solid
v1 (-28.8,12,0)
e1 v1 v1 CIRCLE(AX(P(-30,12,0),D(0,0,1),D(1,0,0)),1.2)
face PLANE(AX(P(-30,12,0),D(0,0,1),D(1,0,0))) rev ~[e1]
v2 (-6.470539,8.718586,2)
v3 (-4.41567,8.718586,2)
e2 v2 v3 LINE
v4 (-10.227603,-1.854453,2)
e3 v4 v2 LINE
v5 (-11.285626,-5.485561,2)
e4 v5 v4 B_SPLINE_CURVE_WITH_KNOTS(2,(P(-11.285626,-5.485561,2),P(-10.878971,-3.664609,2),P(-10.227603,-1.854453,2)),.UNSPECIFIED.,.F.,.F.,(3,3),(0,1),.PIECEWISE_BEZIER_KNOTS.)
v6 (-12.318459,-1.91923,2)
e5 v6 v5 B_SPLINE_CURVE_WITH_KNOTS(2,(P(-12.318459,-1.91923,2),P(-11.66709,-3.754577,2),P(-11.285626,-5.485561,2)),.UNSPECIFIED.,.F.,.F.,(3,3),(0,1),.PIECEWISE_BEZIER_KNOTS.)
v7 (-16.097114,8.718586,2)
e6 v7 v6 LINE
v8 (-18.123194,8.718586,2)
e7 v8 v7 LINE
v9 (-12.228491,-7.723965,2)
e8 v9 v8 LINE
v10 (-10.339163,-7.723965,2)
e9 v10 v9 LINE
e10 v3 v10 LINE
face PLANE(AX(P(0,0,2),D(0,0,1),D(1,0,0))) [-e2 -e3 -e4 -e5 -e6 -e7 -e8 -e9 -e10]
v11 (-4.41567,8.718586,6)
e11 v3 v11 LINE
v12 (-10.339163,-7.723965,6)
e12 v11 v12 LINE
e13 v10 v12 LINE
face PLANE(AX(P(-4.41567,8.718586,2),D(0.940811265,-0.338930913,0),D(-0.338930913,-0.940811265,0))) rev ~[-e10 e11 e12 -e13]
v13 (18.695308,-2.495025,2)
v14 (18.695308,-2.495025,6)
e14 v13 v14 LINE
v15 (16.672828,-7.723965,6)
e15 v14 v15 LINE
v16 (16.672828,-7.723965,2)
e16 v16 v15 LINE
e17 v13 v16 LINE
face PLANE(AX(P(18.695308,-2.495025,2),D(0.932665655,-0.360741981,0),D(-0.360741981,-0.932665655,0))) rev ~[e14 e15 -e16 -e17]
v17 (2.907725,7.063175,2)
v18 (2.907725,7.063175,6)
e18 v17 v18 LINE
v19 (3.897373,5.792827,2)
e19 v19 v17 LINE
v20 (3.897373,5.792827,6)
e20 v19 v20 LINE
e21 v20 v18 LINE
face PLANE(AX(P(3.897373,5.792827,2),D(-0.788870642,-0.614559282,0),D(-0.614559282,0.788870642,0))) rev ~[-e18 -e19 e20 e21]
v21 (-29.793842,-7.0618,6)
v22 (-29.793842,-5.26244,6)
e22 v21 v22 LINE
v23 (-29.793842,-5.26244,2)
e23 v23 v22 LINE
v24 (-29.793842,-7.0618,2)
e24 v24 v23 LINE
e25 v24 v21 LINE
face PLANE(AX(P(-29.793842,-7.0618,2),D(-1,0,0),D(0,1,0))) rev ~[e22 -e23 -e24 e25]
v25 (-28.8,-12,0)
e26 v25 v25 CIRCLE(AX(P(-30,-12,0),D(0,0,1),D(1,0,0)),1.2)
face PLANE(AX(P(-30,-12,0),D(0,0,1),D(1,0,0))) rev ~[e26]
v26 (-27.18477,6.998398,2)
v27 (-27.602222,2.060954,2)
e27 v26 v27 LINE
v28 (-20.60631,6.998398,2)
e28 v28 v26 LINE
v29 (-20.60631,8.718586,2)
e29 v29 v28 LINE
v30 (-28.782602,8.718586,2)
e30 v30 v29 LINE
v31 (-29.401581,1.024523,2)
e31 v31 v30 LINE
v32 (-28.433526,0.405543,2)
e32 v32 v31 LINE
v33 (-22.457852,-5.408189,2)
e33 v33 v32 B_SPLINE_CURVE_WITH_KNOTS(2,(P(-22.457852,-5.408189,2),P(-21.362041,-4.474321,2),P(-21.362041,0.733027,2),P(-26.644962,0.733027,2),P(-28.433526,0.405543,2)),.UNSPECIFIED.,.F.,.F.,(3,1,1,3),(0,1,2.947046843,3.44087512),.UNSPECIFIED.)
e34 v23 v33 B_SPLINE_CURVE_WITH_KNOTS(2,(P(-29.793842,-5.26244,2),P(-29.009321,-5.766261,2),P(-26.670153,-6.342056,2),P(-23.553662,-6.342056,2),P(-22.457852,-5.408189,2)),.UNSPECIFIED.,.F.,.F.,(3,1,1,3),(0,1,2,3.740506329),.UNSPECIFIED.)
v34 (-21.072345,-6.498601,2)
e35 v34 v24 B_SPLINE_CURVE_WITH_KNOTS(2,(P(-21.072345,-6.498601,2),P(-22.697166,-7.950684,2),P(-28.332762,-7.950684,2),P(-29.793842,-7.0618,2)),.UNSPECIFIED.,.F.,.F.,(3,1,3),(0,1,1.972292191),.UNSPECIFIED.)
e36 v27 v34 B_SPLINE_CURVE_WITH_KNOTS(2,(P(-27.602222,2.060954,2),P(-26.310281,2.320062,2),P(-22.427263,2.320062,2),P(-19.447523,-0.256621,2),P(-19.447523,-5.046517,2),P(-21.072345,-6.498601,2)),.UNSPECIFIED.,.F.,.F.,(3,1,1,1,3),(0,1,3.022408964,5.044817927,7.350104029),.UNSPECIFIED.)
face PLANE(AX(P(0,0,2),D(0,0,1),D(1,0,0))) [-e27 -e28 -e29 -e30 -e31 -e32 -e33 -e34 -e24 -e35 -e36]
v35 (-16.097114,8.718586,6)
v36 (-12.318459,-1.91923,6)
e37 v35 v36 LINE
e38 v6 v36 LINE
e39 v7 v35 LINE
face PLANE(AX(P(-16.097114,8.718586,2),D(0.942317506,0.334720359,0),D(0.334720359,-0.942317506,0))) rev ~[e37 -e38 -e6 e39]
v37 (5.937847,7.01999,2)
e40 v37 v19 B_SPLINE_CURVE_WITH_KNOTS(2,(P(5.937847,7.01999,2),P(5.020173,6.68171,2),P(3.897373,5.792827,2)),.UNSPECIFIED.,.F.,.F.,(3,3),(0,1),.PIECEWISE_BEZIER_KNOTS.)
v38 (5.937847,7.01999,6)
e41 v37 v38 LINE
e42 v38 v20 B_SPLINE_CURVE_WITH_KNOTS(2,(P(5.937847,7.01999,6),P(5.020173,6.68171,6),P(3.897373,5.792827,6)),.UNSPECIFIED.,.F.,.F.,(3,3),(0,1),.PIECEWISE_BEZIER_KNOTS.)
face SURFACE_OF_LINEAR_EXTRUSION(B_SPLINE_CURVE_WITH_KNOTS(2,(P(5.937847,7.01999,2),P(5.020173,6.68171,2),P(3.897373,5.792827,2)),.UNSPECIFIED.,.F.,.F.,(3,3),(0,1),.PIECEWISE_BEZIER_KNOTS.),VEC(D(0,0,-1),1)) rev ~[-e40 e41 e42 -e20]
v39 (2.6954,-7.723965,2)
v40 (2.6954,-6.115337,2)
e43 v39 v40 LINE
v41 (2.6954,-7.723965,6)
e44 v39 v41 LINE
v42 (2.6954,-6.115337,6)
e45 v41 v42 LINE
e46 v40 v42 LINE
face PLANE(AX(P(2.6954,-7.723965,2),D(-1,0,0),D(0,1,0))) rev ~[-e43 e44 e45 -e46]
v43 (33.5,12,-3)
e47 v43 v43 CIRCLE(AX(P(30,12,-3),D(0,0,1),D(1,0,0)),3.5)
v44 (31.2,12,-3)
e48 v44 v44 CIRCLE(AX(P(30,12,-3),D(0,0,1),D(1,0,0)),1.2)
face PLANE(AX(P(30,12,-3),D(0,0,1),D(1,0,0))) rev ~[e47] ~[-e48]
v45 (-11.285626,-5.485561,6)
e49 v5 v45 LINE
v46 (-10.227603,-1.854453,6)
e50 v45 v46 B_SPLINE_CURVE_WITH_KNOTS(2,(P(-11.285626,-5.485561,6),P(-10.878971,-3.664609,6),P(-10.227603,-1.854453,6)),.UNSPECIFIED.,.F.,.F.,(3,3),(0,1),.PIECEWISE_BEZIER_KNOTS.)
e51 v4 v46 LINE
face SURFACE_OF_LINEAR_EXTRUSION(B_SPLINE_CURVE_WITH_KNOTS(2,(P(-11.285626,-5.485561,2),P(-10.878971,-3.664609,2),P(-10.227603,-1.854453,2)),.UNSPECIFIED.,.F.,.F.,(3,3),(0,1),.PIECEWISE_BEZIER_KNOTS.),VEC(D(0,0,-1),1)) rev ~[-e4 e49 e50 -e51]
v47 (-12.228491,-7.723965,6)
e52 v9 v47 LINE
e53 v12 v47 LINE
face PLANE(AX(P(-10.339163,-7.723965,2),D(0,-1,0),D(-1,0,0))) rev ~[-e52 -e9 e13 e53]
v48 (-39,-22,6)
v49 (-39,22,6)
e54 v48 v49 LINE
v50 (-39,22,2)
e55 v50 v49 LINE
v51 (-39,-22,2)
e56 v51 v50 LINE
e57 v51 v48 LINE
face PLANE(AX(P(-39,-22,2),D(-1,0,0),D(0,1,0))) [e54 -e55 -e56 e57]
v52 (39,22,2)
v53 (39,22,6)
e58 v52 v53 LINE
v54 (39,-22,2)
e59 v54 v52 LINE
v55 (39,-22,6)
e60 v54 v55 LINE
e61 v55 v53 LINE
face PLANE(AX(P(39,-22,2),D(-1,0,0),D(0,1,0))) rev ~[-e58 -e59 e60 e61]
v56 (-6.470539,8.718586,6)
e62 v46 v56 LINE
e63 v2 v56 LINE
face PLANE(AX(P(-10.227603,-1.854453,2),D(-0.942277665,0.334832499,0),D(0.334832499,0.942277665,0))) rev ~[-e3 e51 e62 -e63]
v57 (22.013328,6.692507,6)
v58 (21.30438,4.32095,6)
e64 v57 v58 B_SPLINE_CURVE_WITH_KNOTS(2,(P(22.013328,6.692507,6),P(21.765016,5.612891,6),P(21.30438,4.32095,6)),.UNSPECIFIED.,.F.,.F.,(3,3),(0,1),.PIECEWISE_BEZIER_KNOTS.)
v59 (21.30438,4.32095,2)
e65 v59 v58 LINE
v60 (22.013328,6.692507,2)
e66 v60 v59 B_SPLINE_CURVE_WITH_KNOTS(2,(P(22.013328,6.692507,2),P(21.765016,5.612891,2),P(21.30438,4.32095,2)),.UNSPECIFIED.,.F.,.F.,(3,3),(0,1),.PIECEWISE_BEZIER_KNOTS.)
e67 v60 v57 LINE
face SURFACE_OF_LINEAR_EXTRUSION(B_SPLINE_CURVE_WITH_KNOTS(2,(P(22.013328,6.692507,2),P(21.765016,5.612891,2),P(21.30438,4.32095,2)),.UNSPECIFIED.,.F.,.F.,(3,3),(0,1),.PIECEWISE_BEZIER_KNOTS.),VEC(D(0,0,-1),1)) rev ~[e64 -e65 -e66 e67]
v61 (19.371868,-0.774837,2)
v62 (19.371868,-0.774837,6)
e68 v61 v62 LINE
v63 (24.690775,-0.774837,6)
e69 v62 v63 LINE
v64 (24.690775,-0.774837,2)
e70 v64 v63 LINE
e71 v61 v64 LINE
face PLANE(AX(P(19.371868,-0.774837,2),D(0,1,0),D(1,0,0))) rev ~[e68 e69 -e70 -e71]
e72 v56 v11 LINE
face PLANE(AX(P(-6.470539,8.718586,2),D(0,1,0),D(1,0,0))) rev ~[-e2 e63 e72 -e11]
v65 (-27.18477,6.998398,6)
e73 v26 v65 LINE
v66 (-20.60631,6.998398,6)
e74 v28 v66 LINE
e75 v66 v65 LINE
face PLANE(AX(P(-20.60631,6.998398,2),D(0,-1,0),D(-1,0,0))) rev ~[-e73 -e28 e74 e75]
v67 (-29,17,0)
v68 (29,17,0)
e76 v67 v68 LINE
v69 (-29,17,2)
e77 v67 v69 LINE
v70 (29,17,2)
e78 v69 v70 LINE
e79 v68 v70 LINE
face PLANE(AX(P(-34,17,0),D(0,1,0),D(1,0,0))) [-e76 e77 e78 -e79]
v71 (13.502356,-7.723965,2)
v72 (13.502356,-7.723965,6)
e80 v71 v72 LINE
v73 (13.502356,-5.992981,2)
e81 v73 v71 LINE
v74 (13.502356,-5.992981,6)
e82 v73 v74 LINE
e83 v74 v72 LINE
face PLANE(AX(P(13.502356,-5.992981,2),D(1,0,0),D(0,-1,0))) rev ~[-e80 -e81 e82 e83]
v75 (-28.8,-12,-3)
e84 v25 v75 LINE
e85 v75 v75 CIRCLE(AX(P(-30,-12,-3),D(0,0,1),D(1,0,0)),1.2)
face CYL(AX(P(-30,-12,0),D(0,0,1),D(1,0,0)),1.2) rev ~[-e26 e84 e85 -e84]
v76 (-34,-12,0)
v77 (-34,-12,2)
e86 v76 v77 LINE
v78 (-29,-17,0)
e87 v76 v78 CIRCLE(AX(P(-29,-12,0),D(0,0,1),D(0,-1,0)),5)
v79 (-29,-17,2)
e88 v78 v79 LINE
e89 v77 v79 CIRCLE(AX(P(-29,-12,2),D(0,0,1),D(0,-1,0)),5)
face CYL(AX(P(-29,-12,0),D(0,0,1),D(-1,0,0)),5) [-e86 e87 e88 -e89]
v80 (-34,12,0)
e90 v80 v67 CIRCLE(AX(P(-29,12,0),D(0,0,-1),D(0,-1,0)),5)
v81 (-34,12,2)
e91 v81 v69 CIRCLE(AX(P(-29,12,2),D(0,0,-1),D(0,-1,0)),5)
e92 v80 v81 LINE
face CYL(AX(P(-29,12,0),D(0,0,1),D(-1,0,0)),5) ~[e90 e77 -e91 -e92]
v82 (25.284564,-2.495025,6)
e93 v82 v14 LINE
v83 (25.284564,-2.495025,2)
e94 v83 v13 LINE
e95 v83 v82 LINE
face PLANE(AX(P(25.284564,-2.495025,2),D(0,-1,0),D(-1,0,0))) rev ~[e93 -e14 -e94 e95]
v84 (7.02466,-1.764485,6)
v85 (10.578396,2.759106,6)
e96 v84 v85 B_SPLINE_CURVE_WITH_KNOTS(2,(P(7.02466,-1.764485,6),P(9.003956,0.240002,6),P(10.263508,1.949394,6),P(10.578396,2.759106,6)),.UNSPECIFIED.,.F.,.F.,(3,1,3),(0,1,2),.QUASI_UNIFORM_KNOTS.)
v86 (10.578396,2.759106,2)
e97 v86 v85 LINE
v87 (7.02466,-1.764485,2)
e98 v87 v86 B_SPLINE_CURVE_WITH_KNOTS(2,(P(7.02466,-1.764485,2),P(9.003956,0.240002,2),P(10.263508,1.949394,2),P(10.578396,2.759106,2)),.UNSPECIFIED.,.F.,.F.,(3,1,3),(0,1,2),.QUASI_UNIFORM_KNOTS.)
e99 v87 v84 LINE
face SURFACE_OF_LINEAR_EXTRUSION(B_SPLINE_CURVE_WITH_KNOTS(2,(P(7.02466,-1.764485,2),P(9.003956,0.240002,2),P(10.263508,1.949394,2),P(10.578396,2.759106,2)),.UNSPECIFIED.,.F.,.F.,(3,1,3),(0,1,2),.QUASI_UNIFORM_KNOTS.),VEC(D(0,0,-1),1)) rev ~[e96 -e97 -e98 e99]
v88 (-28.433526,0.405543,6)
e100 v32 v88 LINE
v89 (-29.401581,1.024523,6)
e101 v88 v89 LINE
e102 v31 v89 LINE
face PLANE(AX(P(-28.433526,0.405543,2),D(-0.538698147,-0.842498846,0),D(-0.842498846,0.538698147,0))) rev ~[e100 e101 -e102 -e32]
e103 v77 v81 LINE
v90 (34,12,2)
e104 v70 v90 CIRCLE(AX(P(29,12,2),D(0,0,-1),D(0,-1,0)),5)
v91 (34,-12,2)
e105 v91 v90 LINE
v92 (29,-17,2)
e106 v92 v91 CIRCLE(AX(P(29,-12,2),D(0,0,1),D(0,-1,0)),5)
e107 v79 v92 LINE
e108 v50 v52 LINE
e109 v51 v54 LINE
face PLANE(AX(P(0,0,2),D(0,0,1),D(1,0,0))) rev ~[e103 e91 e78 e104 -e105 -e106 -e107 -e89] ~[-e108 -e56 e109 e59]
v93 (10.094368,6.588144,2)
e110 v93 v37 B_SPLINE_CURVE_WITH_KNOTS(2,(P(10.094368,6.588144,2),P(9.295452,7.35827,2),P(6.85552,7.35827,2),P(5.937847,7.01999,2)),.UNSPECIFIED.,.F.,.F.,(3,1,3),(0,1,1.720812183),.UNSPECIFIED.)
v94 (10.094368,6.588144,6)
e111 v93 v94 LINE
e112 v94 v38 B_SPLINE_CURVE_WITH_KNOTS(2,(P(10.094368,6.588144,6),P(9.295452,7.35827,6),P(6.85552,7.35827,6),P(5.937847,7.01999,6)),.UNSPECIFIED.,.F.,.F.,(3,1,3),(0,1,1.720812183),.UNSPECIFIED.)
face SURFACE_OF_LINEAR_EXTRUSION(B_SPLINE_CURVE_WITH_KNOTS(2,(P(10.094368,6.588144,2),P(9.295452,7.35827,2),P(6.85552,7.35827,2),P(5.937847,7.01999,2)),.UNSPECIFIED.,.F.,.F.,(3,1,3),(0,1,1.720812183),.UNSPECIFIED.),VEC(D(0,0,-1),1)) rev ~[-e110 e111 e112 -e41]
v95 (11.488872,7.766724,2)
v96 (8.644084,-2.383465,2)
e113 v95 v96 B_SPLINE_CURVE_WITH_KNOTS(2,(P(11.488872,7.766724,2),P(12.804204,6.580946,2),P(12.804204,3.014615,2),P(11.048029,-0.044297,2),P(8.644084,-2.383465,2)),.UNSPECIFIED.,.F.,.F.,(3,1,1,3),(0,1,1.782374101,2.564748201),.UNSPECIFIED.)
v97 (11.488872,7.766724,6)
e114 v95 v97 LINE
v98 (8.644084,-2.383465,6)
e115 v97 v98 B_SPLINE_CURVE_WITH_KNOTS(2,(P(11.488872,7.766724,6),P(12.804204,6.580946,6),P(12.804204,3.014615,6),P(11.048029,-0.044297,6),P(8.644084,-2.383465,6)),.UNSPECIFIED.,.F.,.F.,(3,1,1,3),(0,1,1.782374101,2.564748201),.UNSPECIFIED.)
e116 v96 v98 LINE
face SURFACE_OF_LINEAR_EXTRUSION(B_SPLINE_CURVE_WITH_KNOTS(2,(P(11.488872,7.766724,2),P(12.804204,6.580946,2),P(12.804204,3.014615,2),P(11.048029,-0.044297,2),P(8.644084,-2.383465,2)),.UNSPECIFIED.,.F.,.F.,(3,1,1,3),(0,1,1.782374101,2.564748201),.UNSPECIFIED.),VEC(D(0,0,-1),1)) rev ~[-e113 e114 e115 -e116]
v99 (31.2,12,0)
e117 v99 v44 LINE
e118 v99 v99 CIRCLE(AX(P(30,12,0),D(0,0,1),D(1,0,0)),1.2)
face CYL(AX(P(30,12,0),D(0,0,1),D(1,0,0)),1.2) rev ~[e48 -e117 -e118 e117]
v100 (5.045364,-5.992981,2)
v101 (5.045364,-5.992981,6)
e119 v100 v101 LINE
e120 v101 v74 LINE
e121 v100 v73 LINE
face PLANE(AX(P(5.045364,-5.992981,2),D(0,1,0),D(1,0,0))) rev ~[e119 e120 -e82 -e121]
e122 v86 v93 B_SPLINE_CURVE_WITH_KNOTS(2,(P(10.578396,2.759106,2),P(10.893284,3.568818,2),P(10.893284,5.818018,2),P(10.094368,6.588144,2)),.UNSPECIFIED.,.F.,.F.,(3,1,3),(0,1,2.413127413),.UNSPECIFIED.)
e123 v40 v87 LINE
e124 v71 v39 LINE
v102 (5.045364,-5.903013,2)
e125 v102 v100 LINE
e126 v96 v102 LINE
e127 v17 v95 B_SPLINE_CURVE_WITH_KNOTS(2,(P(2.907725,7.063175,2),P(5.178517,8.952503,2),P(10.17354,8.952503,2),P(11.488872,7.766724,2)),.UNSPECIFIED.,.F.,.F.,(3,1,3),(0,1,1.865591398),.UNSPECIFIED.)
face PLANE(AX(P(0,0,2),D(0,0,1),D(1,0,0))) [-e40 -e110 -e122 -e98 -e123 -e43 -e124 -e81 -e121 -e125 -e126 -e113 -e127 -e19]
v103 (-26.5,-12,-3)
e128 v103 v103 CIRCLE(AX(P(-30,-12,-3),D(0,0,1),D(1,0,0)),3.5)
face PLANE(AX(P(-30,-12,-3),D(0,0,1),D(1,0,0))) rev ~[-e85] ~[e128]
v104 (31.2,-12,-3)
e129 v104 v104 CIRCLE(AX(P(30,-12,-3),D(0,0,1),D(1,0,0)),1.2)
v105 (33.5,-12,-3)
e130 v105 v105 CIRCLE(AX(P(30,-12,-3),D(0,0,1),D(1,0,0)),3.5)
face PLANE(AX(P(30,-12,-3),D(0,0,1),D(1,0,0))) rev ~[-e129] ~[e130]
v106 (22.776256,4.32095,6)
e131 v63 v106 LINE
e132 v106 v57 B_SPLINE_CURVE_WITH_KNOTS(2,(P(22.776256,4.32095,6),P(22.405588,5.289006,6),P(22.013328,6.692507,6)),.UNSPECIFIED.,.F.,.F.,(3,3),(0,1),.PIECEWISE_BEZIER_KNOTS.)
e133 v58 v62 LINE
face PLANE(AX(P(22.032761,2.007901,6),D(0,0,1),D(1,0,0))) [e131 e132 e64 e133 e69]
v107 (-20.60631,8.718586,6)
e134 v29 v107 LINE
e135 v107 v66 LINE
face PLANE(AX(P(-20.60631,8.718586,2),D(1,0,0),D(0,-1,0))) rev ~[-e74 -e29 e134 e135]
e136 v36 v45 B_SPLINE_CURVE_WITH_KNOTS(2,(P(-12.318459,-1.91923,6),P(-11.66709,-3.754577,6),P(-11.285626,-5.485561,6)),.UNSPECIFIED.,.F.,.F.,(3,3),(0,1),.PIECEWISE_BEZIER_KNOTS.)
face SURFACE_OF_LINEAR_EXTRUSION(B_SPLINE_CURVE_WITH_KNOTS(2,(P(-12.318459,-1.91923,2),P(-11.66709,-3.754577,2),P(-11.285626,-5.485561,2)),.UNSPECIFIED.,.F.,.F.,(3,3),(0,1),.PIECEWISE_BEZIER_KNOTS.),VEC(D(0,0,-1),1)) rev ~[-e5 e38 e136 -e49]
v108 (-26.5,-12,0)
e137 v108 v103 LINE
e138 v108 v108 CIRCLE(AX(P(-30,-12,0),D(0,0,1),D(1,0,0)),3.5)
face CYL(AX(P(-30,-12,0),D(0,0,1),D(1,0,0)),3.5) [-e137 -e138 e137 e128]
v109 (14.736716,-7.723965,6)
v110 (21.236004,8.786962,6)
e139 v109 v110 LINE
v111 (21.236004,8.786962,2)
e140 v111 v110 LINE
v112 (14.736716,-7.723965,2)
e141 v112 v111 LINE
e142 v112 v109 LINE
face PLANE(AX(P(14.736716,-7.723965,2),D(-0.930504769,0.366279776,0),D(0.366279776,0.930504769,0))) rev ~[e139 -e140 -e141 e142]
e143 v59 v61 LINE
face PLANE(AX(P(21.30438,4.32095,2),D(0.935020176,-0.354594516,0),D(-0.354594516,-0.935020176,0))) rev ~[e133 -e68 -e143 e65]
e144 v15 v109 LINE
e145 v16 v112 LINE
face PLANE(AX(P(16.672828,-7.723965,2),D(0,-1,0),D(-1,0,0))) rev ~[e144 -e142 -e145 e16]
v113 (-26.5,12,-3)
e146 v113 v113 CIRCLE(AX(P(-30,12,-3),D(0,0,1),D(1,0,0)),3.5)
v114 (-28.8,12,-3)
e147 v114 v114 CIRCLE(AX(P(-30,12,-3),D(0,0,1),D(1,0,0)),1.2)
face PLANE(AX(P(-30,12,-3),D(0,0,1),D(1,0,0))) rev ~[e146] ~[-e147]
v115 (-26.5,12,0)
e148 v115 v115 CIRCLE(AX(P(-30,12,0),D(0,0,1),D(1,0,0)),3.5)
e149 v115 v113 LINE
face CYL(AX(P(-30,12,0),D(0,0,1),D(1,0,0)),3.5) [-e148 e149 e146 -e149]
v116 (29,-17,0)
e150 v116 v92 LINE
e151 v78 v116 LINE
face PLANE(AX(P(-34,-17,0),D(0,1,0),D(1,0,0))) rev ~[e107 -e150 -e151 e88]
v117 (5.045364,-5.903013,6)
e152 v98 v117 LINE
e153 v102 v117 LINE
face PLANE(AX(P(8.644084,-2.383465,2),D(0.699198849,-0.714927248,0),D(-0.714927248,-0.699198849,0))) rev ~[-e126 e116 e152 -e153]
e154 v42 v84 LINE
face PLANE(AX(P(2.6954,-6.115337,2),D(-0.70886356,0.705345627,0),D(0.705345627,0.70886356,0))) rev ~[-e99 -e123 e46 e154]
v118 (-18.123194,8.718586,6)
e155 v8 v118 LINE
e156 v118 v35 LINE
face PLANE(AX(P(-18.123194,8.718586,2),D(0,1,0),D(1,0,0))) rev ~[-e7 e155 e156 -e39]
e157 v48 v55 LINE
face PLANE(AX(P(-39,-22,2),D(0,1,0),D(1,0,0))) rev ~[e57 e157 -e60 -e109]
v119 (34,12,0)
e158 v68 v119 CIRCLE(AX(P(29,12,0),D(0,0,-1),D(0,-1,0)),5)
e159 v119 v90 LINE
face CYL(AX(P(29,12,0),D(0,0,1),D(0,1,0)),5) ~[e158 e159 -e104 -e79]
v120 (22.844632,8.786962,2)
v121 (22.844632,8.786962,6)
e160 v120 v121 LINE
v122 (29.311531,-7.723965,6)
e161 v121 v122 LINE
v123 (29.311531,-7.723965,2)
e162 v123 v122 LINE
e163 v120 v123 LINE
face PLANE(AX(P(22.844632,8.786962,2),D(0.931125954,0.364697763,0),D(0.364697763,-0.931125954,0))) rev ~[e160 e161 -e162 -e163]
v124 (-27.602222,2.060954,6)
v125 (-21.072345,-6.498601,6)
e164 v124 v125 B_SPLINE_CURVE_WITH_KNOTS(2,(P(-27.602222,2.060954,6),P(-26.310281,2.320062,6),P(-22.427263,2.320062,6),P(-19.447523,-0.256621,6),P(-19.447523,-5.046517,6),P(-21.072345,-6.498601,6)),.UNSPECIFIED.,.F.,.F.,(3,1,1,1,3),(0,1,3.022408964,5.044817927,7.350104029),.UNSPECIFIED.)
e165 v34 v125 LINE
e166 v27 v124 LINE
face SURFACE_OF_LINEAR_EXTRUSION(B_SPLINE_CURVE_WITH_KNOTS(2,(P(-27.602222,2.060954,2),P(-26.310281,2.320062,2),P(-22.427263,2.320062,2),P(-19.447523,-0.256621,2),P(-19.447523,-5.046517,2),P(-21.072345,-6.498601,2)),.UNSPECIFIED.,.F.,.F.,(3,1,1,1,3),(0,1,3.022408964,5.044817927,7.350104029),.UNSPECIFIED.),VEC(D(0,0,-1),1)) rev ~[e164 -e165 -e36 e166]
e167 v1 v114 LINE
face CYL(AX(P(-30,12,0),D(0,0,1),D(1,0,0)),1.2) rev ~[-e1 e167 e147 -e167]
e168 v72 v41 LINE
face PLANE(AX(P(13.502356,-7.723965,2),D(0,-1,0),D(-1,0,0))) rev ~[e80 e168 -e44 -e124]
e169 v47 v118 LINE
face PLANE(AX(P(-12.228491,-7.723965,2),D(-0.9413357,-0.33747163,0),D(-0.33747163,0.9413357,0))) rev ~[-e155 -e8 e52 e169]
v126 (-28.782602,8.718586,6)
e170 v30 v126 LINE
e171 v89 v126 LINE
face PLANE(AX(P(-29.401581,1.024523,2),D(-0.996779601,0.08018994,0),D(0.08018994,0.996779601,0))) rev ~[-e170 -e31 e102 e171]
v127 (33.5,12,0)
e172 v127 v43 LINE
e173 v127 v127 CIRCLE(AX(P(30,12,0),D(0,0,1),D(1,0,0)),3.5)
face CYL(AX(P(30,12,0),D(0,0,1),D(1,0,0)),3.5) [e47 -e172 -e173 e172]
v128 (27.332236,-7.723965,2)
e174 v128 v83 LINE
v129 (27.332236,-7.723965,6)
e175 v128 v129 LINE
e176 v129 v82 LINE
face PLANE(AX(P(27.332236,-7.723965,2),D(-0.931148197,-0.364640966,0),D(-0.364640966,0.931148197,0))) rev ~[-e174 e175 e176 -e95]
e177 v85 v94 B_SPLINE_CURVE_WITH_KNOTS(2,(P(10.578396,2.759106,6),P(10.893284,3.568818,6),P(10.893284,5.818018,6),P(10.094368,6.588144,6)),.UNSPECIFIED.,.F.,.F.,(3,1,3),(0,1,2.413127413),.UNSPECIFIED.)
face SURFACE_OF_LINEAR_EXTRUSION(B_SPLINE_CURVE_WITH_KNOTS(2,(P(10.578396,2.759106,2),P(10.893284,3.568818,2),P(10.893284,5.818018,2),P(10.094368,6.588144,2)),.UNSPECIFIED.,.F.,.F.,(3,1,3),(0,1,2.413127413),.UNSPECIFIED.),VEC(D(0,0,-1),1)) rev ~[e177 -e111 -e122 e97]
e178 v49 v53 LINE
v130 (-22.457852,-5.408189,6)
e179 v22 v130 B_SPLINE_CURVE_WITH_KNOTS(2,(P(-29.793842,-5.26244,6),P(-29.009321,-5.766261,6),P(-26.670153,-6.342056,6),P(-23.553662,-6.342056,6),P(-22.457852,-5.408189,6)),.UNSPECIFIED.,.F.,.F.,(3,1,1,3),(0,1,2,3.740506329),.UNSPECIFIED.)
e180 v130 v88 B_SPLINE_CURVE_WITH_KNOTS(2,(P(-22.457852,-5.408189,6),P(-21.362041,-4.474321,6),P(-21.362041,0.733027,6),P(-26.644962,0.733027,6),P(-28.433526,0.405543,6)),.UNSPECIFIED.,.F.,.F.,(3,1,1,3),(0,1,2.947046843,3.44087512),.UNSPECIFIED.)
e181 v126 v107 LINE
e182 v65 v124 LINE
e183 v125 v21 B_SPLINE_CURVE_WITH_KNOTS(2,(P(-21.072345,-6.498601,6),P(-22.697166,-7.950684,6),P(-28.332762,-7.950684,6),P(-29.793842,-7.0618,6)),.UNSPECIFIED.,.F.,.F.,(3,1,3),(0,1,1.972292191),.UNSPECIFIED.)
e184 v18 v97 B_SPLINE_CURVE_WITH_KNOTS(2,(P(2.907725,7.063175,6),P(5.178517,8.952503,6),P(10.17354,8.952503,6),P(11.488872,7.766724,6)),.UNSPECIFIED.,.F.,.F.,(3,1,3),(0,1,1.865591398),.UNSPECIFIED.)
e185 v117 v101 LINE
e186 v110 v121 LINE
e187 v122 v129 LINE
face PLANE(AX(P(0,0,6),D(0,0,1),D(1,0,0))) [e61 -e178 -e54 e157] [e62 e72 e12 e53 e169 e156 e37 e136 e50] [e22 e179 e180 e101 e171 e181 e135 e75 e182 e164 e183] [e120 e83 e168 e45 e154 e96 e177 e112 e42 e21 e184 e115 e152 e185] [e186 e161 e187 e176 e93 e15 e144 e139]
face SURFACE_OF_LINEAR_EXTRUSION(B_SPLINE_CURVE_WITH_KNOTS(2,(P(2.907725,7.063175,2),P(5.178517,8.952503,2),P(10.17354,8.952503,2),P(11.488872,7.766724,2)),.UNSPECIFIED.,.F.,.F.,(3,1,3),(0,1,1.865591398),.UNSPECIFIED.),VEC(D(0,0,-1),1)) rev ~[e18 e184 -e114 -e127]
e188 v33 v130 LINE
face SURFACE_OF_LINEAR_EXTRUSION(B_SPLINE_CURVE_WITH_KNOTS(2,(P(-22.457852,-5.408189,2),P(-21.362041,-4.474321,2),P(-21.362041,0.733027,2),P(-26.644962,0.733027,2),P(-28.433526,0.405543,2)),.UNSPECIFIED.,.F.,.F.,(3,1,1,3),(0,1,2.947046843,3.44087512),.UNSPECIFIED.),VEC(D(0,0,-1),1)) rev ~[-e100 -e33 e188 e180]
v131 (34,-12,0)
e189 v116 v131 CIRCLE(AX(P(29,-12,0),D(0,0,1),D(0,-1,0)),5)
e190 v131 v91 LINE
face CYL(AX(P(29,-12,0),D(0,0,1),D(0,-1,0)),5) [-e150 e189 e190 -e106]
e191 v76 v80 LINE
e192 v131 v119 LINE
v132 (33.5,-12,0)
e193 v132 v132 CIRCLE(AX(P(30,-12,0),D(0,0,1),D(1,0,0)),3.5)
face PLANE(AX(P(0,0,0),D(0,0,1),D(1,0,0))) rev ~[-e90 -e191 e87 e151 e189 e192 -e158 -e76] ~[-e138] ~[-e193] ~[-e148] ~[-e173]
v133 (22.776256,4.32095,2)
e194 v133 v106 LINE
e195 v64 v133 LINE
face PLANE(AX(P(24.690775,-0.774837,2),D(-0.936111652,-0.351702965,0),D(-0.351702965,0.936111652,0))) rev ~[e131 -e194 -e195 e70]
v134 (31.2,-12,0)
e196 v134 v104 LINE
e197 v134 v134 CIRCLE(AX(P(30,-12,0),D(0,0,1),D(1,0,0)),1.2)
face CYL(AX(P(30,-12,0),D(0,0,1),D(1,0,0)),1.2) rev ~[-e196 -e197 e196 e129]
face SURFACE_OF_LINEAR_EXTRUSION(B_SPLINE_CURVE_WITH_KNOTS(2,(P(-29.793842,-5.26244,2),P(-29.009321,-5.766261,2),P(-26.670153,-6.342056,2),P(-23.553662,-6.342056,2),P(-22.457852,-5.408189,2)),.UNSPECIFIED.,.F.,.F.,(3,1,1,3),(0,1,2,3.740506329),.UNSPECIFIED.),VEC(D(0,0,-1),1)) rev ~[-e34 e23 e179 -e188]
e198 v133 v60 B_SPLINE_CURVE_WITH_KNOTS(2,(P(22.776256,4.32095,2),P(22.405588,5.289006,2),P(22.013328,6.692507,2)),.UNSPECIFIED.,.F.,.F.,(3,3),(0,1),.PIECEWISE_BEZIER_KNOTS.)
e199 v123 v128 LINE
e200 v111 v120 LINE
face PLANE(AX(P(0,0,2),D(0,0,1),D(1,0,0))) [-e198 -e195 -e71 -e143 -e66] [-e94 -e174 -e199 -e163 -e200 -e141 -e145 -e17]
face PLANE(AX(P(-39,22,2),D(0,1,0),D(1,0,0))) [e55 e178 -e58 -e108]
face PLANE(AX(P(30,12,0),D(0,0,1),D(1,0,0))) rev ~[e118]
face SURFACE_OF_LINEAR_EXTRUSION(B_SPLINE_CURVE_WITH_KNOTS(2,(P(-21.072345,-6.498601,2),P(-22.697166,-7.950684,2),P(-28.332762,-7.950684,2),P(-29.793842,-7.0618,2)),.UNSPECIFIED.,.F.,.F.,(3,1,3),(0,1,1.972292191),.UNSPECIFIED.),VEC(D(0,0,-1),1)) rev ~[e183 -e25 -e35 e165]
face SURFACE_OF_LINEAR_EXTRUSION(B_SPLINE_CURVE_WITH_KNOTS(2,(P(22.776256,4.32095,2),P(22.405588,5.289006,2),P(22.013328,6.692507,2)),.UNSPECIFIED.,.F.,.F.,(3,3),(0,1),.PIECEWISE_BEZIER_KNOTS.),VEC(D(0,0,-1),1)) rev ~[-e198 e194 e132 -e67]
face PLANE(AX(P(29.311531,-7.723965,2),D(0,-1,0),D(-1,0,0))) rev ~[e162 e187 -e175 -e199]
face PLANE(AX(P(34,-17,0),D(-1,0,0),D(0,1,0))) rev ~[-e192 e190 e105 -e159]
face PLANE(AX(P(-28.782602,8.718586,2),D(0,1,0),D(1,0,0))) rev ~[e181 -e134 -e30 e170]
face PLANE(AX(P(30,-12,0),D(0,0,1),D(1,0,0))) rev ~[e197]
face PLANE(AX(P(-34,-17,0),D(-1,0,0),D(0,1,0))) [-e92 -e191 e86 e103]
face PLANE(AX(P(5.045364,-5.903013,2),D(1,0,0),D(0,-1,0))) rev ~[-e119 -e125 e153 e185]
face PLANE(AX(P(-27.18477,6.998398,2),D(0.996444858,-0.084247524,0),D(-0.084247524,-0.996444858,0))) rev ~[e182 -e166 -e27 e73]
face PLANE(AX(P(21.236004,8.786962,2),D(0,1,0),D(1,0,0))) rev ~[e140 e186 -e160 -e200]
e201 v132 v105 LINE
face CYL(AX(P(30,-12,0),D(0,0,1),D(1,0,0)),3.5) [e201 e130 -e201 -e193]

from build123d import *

# Parameters (mm, degrees)
F0_W     = 68
F0_H     = 34
F1_DEPTH = 2
F2_R     = 3.5
F3_DEPTH = 3
F4_D     = 2.4
F4_DEPTH = 3.001
F5_R     = 5
F6_W     = 78
F6_H     = 44
F7_DEPTH = 4


with BuildPart() as f1:
    # F0 (on Top) → F1 (new body)
    with BuildSketch(Plane.XY):
        Rectangle(F0_W, F0_H)
    extrude(amount=F1_DEPTH)

    # F2 (on face) → F3 (join)
    with BuildSketch(Plane.XY):
        with Locations((30, -12)):
            Circle(F2_R)
        with Locations((-30, -12)):
            Circle(F2_R)
        with Locations((30, 12)):
            Circle(F2_R)
        with Locations((-30, 12)):
            Circle(F2_R)
    extrude(amount=-F3_DEPTH)

    # F4 (through all, one way)
    with BuildSketch(Plane.XY):
        with Locations((-30, 12), (-30, -12), (30, 12), (30, -12)):
            Circle(F4_D / 2)
    extrude(amount=-F4_DEPTH, mode=Mode.SUBTRACT)

    # F5
    f5_edges = [f1.edges().sort_by_distance(p)[0] for p in [
        (-34, 17, 1),
        (34, 17, 1),
        (34, -17, 1),
        (-34, -17, 1),
    ]]
    fillet(f5_edges, radius=F5_R)

    # F6 (on face) → F7 (join)
    with BuildSketch(Plane.XY.offset(2)):
        Rectangle(F6_W, F6_H)
        with BuildLine():
            add(Edge.make_bspline(
                [(-27.6022215205, 2.0609542791), (-26.3102811263, 2.3200621019), (-25.0255381717, 2.3200621019)],
                knots=[0, 0, 0, 1, 1, 1], degree=2))
            add(Edge.make_bspline(
                [(-25.0255381717, 2.3200621019), (-22.4272625043, 2.3200621019), (-20.9373925233, 1.0317204275)],
                knots=[0, 0, 0, 1, 1, 1], degree=2))
            add(Edge.make_bspline(
                [(-20.9373925233, 1.0317204275), (-19.4475225423, -0.2566212469), (-19.4475225423, -2.4950249382)],
                knots=[0, 0, 0, 1, 1, 1], degree=2))
            add(Edge.make_bspline(
                [(-19.4475225423, -2.4950249382), (-19.4475225423, -5.0465172487), (-21.0723445143, -6.4986006722)],
                knots=[0, 0, 0, 1, 1, 1], degree=2))
            add(Edge.make_bspline(
                [(-21.0723445143, -6.4986006722), (-22.6971664864, -7.9506840957), (-25.5545499765, -7.9506840957)],
                knots=[0, 0, 0, 1, 1, 1], degree=2))
            add(Edge.make_bspline(
                [(-25.5545499765, -7.9506840957), (-28.3327616319, -7.9506840957), (-29.7938418549, -7.0618003148)],
                knots=[0, 0, 0, 1, 1, 1], degree=2))
            Line((-29.7938418549, -7.0618003148), (-29.7938418549, -5.2624404343))
            add(Edge.make_bspline(
                [(-29.7938418549, -5.2624404343), (-29.009320947, -5.7662612008), (-27.8397370247, -6.0541587817)],
                knots=[0, 0, 0, 1, 1, 1], degree=2))
            add(Edge.make_bspline(
                [(-27.8397370247, -6.0541587817), (-26.6701531024, -6.3420563626), (-25.532957658, -6.3420563626)],
                knots=[0, 0, 0, 1, 1, 1], degree=2))
            add(Edge.make_bspline(
                [(-25.532957658, -6.3420563626), (-23.5536617895, -6.3420563626), (-22.4578516223, -5.4081885846)],
                knots=[0, 0, 0, 1, 1, 1], degree=2))
            add(Edge.make_bspline(
                [(-22.4578516223, -5.4081885846), (-21.3620414551, -4.4743208067), (-21.3620414551, -2.7073494041)],
                knots=[0, 0, 0, 1, 1, 1], degree=2))
            add(Edge.make_bspline(
                [(-21.3620414551, -2.7073494041), (-21.3620414551, 0.7330266874), (-25.5761422951, 0.7330266874)],
                knots=[0, 0, 0, 1, 1, 1], degree=2))
            add(Edge.make_bspline(
                [(-25.5761422951, 0.7330266874), (-26.6449620641, 0.7330266874), (-28.4335257853, 0.4055431891)],
                knots=[0, 0, 0, 1, 1, 1], degree=2))
            Line((-28.4335257853, 0.4055431891), (-29.4015814009, 1.024522988))
            Line((-29.4015814009, 1.024522988), (-28.7826016021, 8.7185858368))
            Line((-28.7826016021, 8.7185858368), (-20.6063103053, 8.7185858368))
            Line((-20.6063103053, 8.7185858368), (-20.6063103053, 6.9983977911))
            Line((-20.6063103053, 6.9983977911), (-27.1847700282, 6.9983977911))
            Line((-27.1847700282, 6.9983977911), (-27.6022215205, 2.0609542791))
        make_face(mode=Mode.SUBTRACT)
        with BuildLine():
            Line((-10.2276025148, -1.8544528207), (-6.4705390845, 8.7185858368))
            Line((-6.4705390845, 8.7185858368), (-4.415670101, 8.7185858368))
            Line((-4.415670101, 8.7185858368), (-10.3391628274, -7.7239647508))
            Line((-10.3391628274, -7.7239647508), (-12.2284907019, -7.7239647508))
            Line((-12.2284907019, -7.7239647508), (-18.1231936703, 8.7185858368))
            Line((-18.1231936703, 8.7185858368), (-16.0971144449, 8.7185858368))
            Line((-16.0971144449, 8.7185858368), (-12.3184586959, -1.9192297764))
            add(Edge.make_bspline(
                [(-12.3184586959, -1.9192297764), (-11.6670904192, -3.7545768545), (-11.2856261245, -5.4855610595)],
                knots=[0, 0, 0, 1, 1, 1], degree=2))
            add(Edge.make_bspline(
                [(-11.2856261245, -5.4855610595), (-10.8789707916, -3.6646088605), (-10.2276025148, -1.8544528207)],
                knots=[0, 0, 0, 1, 1, 1], degree=2))
        make_face(mode=Mode.SUBTRACT)
        with BuildLine():
            Line((13.5023555886, -5.9929805458), (13.5023555886, -7.7239647508))
            Line((13.5023555886, -7.7239647508), (2.6954001466, -7.7239647508))
            Line((2.6954001466, -7.7239647508), (2.6954001466, -6.1153370176))
            Line((2.6954001466, -6.1153370176), (7.0246600189, -1.7644848267))
            add(Edge.make_bspline(
                [(7.0246600189, -1.7644848267), (9.0039558874, 0.2400020801), (9.6337318456, 1.0946980233)],
                knots=[0, 0, 0, 1, 1, 1], degree=2))
            add(Edge.make_bspline(
                [(9.6337318456, 1.0946980233), (10.2635078038, 1.9493939665), (10.5783957828, 2.7591059127)],
                knots=[0, 0, 0, 1, 1, 1], degree=2))
            add(Edge.make_bspline(
                [(10.5783957828, 2.7591059127), (10.8932837619, 3.568817859), (10.8932837619, 4.500886277)],
                knots=[0, 0, 0, 1, 1, 1], degree=2))
            add(Edge.make_bspline(
                [(10.8932837619, 4.500886277), (10.8932837619, 5.8180177095), (10.094367975, 6.5881437384)],
                knots=[0, 0, 0, 1, 1, 1], degree=2))
            add(Edge.make_bspline(
                [(10.094367975, 6.5881437384), (9.2954521881, 7.3582697672), (7.8775566023, 7.3582697672)],
                knots=[0, 0, 0, 1, 1, 1], degree=2))
            add(Edge.make_bspline(
                [(7.8775566023, 7.3582697672), (6.8555201902, 7.3582697672), (5.9378466511, 7.0199901097)],
                knots=[0, 0, 0, 1, 1, 1], degree=2))
            add(Edge.make_bspline(
                [(5.9378466511, 7.0199901097), (5.0201731121, 6.6817104521), (3.8973725467, 5.7928266712)],
                knots=[0, 0, 0, 1, 1, 1], degree=2))
            Line((3.8973725467, 5.7928266712), (2.9077246125, 7.0631747468))
            add(Edge.make_bspline(
                [(2.9077246125, 7.0631747468), (5.1785167816, 8.9525026213), (7.8559642837, 8.9525026213)],
                knots=[0, 0, 0, 1, 1, 1], degree=2))
            add(Edge.make_bspline(
                [(7.8559642837, 8.9525026213), (10.1735398097, 8.9525026213), (11.4888718823, 7.76672446)],
                knots=[0, 0, 0, 1, 1, 1], degree=2))
            add(Edge.make_bspline(
                [(11.4888718823, 7.76672446), (12.804203955, 6.5809462988), (12.804203955, 4.5800581118)],
                knots=[0, 0, 0, 1, 1, 1], degree=2))
            add(Edge.make_bspline(
                [(12.804203955, 4.5800581118), (12.804203955, 3.0146150158), (11.9261163333, 1.4851591174)],
                knots=[0, 0, 0, 1, 1, 1], degree=2))
            add(Edge.make_bspline(
                [(11.9261163333, 1.4851591174), (11.0480287116, -0.044296781), (8.6440839113, -2.3834646256)],
                knots=[0, 0, 0, 1, 1, 1], degree=2))
            Line((8.6440839113, -2.3834646256), (5.0453641504, -5.9030125517))
            Line((5.0453641504, -5.9030125517), (5.0453641504, -5.9929805458))
            Line((5.0453641504, -5.9929805458), (13.5023555886, -5.9929805458))
        make_face(mode=Mode.SUBTRACT)
        Polygon((29.3115314982, -7.7239647508), (27.3322356297, -7.7239647508), (25.2845640858, -2.4950249382), (18.6953082036, -2.4950249382), (16.6728276979, -7.7239647508), (14.7367164666, -7.7239647508), (21.2360043548, 8.7869615123), (22.8446320879, 8.7869615123), align=None, mode=Mode.SUBTRACT)
        with BuildLine():
            Line((19.3718675186, -0.7748368925), (24.6907753252, -0.7748368925))
            Line((24.6907753252, -0.7748368925), (22.7762564124, 4.320950289))
            add(Edge.make_bspline(
                [(22.7762564124, 4.320950289), (22.405588277, 5.2890059047), (22.0133278231, 6.6925066114)],
                knots=[0, 0, 0, 1, 1, 1], degree=2))
            add(Edge.make_bspline(
                [(22.0133278231, 6.6925066114), (21.7650161596, 5.6128906831), (21.3043800302, 4.320950289)],
                knots=[0, 0, 0, 1, 1, 1], degree=2))
            Line((21.3043800302, 4.320950289), (19.3718675186, -0.7748368925))
        make_face()
    extrude(amount=F7_DEPTH)


solid = f1.part
